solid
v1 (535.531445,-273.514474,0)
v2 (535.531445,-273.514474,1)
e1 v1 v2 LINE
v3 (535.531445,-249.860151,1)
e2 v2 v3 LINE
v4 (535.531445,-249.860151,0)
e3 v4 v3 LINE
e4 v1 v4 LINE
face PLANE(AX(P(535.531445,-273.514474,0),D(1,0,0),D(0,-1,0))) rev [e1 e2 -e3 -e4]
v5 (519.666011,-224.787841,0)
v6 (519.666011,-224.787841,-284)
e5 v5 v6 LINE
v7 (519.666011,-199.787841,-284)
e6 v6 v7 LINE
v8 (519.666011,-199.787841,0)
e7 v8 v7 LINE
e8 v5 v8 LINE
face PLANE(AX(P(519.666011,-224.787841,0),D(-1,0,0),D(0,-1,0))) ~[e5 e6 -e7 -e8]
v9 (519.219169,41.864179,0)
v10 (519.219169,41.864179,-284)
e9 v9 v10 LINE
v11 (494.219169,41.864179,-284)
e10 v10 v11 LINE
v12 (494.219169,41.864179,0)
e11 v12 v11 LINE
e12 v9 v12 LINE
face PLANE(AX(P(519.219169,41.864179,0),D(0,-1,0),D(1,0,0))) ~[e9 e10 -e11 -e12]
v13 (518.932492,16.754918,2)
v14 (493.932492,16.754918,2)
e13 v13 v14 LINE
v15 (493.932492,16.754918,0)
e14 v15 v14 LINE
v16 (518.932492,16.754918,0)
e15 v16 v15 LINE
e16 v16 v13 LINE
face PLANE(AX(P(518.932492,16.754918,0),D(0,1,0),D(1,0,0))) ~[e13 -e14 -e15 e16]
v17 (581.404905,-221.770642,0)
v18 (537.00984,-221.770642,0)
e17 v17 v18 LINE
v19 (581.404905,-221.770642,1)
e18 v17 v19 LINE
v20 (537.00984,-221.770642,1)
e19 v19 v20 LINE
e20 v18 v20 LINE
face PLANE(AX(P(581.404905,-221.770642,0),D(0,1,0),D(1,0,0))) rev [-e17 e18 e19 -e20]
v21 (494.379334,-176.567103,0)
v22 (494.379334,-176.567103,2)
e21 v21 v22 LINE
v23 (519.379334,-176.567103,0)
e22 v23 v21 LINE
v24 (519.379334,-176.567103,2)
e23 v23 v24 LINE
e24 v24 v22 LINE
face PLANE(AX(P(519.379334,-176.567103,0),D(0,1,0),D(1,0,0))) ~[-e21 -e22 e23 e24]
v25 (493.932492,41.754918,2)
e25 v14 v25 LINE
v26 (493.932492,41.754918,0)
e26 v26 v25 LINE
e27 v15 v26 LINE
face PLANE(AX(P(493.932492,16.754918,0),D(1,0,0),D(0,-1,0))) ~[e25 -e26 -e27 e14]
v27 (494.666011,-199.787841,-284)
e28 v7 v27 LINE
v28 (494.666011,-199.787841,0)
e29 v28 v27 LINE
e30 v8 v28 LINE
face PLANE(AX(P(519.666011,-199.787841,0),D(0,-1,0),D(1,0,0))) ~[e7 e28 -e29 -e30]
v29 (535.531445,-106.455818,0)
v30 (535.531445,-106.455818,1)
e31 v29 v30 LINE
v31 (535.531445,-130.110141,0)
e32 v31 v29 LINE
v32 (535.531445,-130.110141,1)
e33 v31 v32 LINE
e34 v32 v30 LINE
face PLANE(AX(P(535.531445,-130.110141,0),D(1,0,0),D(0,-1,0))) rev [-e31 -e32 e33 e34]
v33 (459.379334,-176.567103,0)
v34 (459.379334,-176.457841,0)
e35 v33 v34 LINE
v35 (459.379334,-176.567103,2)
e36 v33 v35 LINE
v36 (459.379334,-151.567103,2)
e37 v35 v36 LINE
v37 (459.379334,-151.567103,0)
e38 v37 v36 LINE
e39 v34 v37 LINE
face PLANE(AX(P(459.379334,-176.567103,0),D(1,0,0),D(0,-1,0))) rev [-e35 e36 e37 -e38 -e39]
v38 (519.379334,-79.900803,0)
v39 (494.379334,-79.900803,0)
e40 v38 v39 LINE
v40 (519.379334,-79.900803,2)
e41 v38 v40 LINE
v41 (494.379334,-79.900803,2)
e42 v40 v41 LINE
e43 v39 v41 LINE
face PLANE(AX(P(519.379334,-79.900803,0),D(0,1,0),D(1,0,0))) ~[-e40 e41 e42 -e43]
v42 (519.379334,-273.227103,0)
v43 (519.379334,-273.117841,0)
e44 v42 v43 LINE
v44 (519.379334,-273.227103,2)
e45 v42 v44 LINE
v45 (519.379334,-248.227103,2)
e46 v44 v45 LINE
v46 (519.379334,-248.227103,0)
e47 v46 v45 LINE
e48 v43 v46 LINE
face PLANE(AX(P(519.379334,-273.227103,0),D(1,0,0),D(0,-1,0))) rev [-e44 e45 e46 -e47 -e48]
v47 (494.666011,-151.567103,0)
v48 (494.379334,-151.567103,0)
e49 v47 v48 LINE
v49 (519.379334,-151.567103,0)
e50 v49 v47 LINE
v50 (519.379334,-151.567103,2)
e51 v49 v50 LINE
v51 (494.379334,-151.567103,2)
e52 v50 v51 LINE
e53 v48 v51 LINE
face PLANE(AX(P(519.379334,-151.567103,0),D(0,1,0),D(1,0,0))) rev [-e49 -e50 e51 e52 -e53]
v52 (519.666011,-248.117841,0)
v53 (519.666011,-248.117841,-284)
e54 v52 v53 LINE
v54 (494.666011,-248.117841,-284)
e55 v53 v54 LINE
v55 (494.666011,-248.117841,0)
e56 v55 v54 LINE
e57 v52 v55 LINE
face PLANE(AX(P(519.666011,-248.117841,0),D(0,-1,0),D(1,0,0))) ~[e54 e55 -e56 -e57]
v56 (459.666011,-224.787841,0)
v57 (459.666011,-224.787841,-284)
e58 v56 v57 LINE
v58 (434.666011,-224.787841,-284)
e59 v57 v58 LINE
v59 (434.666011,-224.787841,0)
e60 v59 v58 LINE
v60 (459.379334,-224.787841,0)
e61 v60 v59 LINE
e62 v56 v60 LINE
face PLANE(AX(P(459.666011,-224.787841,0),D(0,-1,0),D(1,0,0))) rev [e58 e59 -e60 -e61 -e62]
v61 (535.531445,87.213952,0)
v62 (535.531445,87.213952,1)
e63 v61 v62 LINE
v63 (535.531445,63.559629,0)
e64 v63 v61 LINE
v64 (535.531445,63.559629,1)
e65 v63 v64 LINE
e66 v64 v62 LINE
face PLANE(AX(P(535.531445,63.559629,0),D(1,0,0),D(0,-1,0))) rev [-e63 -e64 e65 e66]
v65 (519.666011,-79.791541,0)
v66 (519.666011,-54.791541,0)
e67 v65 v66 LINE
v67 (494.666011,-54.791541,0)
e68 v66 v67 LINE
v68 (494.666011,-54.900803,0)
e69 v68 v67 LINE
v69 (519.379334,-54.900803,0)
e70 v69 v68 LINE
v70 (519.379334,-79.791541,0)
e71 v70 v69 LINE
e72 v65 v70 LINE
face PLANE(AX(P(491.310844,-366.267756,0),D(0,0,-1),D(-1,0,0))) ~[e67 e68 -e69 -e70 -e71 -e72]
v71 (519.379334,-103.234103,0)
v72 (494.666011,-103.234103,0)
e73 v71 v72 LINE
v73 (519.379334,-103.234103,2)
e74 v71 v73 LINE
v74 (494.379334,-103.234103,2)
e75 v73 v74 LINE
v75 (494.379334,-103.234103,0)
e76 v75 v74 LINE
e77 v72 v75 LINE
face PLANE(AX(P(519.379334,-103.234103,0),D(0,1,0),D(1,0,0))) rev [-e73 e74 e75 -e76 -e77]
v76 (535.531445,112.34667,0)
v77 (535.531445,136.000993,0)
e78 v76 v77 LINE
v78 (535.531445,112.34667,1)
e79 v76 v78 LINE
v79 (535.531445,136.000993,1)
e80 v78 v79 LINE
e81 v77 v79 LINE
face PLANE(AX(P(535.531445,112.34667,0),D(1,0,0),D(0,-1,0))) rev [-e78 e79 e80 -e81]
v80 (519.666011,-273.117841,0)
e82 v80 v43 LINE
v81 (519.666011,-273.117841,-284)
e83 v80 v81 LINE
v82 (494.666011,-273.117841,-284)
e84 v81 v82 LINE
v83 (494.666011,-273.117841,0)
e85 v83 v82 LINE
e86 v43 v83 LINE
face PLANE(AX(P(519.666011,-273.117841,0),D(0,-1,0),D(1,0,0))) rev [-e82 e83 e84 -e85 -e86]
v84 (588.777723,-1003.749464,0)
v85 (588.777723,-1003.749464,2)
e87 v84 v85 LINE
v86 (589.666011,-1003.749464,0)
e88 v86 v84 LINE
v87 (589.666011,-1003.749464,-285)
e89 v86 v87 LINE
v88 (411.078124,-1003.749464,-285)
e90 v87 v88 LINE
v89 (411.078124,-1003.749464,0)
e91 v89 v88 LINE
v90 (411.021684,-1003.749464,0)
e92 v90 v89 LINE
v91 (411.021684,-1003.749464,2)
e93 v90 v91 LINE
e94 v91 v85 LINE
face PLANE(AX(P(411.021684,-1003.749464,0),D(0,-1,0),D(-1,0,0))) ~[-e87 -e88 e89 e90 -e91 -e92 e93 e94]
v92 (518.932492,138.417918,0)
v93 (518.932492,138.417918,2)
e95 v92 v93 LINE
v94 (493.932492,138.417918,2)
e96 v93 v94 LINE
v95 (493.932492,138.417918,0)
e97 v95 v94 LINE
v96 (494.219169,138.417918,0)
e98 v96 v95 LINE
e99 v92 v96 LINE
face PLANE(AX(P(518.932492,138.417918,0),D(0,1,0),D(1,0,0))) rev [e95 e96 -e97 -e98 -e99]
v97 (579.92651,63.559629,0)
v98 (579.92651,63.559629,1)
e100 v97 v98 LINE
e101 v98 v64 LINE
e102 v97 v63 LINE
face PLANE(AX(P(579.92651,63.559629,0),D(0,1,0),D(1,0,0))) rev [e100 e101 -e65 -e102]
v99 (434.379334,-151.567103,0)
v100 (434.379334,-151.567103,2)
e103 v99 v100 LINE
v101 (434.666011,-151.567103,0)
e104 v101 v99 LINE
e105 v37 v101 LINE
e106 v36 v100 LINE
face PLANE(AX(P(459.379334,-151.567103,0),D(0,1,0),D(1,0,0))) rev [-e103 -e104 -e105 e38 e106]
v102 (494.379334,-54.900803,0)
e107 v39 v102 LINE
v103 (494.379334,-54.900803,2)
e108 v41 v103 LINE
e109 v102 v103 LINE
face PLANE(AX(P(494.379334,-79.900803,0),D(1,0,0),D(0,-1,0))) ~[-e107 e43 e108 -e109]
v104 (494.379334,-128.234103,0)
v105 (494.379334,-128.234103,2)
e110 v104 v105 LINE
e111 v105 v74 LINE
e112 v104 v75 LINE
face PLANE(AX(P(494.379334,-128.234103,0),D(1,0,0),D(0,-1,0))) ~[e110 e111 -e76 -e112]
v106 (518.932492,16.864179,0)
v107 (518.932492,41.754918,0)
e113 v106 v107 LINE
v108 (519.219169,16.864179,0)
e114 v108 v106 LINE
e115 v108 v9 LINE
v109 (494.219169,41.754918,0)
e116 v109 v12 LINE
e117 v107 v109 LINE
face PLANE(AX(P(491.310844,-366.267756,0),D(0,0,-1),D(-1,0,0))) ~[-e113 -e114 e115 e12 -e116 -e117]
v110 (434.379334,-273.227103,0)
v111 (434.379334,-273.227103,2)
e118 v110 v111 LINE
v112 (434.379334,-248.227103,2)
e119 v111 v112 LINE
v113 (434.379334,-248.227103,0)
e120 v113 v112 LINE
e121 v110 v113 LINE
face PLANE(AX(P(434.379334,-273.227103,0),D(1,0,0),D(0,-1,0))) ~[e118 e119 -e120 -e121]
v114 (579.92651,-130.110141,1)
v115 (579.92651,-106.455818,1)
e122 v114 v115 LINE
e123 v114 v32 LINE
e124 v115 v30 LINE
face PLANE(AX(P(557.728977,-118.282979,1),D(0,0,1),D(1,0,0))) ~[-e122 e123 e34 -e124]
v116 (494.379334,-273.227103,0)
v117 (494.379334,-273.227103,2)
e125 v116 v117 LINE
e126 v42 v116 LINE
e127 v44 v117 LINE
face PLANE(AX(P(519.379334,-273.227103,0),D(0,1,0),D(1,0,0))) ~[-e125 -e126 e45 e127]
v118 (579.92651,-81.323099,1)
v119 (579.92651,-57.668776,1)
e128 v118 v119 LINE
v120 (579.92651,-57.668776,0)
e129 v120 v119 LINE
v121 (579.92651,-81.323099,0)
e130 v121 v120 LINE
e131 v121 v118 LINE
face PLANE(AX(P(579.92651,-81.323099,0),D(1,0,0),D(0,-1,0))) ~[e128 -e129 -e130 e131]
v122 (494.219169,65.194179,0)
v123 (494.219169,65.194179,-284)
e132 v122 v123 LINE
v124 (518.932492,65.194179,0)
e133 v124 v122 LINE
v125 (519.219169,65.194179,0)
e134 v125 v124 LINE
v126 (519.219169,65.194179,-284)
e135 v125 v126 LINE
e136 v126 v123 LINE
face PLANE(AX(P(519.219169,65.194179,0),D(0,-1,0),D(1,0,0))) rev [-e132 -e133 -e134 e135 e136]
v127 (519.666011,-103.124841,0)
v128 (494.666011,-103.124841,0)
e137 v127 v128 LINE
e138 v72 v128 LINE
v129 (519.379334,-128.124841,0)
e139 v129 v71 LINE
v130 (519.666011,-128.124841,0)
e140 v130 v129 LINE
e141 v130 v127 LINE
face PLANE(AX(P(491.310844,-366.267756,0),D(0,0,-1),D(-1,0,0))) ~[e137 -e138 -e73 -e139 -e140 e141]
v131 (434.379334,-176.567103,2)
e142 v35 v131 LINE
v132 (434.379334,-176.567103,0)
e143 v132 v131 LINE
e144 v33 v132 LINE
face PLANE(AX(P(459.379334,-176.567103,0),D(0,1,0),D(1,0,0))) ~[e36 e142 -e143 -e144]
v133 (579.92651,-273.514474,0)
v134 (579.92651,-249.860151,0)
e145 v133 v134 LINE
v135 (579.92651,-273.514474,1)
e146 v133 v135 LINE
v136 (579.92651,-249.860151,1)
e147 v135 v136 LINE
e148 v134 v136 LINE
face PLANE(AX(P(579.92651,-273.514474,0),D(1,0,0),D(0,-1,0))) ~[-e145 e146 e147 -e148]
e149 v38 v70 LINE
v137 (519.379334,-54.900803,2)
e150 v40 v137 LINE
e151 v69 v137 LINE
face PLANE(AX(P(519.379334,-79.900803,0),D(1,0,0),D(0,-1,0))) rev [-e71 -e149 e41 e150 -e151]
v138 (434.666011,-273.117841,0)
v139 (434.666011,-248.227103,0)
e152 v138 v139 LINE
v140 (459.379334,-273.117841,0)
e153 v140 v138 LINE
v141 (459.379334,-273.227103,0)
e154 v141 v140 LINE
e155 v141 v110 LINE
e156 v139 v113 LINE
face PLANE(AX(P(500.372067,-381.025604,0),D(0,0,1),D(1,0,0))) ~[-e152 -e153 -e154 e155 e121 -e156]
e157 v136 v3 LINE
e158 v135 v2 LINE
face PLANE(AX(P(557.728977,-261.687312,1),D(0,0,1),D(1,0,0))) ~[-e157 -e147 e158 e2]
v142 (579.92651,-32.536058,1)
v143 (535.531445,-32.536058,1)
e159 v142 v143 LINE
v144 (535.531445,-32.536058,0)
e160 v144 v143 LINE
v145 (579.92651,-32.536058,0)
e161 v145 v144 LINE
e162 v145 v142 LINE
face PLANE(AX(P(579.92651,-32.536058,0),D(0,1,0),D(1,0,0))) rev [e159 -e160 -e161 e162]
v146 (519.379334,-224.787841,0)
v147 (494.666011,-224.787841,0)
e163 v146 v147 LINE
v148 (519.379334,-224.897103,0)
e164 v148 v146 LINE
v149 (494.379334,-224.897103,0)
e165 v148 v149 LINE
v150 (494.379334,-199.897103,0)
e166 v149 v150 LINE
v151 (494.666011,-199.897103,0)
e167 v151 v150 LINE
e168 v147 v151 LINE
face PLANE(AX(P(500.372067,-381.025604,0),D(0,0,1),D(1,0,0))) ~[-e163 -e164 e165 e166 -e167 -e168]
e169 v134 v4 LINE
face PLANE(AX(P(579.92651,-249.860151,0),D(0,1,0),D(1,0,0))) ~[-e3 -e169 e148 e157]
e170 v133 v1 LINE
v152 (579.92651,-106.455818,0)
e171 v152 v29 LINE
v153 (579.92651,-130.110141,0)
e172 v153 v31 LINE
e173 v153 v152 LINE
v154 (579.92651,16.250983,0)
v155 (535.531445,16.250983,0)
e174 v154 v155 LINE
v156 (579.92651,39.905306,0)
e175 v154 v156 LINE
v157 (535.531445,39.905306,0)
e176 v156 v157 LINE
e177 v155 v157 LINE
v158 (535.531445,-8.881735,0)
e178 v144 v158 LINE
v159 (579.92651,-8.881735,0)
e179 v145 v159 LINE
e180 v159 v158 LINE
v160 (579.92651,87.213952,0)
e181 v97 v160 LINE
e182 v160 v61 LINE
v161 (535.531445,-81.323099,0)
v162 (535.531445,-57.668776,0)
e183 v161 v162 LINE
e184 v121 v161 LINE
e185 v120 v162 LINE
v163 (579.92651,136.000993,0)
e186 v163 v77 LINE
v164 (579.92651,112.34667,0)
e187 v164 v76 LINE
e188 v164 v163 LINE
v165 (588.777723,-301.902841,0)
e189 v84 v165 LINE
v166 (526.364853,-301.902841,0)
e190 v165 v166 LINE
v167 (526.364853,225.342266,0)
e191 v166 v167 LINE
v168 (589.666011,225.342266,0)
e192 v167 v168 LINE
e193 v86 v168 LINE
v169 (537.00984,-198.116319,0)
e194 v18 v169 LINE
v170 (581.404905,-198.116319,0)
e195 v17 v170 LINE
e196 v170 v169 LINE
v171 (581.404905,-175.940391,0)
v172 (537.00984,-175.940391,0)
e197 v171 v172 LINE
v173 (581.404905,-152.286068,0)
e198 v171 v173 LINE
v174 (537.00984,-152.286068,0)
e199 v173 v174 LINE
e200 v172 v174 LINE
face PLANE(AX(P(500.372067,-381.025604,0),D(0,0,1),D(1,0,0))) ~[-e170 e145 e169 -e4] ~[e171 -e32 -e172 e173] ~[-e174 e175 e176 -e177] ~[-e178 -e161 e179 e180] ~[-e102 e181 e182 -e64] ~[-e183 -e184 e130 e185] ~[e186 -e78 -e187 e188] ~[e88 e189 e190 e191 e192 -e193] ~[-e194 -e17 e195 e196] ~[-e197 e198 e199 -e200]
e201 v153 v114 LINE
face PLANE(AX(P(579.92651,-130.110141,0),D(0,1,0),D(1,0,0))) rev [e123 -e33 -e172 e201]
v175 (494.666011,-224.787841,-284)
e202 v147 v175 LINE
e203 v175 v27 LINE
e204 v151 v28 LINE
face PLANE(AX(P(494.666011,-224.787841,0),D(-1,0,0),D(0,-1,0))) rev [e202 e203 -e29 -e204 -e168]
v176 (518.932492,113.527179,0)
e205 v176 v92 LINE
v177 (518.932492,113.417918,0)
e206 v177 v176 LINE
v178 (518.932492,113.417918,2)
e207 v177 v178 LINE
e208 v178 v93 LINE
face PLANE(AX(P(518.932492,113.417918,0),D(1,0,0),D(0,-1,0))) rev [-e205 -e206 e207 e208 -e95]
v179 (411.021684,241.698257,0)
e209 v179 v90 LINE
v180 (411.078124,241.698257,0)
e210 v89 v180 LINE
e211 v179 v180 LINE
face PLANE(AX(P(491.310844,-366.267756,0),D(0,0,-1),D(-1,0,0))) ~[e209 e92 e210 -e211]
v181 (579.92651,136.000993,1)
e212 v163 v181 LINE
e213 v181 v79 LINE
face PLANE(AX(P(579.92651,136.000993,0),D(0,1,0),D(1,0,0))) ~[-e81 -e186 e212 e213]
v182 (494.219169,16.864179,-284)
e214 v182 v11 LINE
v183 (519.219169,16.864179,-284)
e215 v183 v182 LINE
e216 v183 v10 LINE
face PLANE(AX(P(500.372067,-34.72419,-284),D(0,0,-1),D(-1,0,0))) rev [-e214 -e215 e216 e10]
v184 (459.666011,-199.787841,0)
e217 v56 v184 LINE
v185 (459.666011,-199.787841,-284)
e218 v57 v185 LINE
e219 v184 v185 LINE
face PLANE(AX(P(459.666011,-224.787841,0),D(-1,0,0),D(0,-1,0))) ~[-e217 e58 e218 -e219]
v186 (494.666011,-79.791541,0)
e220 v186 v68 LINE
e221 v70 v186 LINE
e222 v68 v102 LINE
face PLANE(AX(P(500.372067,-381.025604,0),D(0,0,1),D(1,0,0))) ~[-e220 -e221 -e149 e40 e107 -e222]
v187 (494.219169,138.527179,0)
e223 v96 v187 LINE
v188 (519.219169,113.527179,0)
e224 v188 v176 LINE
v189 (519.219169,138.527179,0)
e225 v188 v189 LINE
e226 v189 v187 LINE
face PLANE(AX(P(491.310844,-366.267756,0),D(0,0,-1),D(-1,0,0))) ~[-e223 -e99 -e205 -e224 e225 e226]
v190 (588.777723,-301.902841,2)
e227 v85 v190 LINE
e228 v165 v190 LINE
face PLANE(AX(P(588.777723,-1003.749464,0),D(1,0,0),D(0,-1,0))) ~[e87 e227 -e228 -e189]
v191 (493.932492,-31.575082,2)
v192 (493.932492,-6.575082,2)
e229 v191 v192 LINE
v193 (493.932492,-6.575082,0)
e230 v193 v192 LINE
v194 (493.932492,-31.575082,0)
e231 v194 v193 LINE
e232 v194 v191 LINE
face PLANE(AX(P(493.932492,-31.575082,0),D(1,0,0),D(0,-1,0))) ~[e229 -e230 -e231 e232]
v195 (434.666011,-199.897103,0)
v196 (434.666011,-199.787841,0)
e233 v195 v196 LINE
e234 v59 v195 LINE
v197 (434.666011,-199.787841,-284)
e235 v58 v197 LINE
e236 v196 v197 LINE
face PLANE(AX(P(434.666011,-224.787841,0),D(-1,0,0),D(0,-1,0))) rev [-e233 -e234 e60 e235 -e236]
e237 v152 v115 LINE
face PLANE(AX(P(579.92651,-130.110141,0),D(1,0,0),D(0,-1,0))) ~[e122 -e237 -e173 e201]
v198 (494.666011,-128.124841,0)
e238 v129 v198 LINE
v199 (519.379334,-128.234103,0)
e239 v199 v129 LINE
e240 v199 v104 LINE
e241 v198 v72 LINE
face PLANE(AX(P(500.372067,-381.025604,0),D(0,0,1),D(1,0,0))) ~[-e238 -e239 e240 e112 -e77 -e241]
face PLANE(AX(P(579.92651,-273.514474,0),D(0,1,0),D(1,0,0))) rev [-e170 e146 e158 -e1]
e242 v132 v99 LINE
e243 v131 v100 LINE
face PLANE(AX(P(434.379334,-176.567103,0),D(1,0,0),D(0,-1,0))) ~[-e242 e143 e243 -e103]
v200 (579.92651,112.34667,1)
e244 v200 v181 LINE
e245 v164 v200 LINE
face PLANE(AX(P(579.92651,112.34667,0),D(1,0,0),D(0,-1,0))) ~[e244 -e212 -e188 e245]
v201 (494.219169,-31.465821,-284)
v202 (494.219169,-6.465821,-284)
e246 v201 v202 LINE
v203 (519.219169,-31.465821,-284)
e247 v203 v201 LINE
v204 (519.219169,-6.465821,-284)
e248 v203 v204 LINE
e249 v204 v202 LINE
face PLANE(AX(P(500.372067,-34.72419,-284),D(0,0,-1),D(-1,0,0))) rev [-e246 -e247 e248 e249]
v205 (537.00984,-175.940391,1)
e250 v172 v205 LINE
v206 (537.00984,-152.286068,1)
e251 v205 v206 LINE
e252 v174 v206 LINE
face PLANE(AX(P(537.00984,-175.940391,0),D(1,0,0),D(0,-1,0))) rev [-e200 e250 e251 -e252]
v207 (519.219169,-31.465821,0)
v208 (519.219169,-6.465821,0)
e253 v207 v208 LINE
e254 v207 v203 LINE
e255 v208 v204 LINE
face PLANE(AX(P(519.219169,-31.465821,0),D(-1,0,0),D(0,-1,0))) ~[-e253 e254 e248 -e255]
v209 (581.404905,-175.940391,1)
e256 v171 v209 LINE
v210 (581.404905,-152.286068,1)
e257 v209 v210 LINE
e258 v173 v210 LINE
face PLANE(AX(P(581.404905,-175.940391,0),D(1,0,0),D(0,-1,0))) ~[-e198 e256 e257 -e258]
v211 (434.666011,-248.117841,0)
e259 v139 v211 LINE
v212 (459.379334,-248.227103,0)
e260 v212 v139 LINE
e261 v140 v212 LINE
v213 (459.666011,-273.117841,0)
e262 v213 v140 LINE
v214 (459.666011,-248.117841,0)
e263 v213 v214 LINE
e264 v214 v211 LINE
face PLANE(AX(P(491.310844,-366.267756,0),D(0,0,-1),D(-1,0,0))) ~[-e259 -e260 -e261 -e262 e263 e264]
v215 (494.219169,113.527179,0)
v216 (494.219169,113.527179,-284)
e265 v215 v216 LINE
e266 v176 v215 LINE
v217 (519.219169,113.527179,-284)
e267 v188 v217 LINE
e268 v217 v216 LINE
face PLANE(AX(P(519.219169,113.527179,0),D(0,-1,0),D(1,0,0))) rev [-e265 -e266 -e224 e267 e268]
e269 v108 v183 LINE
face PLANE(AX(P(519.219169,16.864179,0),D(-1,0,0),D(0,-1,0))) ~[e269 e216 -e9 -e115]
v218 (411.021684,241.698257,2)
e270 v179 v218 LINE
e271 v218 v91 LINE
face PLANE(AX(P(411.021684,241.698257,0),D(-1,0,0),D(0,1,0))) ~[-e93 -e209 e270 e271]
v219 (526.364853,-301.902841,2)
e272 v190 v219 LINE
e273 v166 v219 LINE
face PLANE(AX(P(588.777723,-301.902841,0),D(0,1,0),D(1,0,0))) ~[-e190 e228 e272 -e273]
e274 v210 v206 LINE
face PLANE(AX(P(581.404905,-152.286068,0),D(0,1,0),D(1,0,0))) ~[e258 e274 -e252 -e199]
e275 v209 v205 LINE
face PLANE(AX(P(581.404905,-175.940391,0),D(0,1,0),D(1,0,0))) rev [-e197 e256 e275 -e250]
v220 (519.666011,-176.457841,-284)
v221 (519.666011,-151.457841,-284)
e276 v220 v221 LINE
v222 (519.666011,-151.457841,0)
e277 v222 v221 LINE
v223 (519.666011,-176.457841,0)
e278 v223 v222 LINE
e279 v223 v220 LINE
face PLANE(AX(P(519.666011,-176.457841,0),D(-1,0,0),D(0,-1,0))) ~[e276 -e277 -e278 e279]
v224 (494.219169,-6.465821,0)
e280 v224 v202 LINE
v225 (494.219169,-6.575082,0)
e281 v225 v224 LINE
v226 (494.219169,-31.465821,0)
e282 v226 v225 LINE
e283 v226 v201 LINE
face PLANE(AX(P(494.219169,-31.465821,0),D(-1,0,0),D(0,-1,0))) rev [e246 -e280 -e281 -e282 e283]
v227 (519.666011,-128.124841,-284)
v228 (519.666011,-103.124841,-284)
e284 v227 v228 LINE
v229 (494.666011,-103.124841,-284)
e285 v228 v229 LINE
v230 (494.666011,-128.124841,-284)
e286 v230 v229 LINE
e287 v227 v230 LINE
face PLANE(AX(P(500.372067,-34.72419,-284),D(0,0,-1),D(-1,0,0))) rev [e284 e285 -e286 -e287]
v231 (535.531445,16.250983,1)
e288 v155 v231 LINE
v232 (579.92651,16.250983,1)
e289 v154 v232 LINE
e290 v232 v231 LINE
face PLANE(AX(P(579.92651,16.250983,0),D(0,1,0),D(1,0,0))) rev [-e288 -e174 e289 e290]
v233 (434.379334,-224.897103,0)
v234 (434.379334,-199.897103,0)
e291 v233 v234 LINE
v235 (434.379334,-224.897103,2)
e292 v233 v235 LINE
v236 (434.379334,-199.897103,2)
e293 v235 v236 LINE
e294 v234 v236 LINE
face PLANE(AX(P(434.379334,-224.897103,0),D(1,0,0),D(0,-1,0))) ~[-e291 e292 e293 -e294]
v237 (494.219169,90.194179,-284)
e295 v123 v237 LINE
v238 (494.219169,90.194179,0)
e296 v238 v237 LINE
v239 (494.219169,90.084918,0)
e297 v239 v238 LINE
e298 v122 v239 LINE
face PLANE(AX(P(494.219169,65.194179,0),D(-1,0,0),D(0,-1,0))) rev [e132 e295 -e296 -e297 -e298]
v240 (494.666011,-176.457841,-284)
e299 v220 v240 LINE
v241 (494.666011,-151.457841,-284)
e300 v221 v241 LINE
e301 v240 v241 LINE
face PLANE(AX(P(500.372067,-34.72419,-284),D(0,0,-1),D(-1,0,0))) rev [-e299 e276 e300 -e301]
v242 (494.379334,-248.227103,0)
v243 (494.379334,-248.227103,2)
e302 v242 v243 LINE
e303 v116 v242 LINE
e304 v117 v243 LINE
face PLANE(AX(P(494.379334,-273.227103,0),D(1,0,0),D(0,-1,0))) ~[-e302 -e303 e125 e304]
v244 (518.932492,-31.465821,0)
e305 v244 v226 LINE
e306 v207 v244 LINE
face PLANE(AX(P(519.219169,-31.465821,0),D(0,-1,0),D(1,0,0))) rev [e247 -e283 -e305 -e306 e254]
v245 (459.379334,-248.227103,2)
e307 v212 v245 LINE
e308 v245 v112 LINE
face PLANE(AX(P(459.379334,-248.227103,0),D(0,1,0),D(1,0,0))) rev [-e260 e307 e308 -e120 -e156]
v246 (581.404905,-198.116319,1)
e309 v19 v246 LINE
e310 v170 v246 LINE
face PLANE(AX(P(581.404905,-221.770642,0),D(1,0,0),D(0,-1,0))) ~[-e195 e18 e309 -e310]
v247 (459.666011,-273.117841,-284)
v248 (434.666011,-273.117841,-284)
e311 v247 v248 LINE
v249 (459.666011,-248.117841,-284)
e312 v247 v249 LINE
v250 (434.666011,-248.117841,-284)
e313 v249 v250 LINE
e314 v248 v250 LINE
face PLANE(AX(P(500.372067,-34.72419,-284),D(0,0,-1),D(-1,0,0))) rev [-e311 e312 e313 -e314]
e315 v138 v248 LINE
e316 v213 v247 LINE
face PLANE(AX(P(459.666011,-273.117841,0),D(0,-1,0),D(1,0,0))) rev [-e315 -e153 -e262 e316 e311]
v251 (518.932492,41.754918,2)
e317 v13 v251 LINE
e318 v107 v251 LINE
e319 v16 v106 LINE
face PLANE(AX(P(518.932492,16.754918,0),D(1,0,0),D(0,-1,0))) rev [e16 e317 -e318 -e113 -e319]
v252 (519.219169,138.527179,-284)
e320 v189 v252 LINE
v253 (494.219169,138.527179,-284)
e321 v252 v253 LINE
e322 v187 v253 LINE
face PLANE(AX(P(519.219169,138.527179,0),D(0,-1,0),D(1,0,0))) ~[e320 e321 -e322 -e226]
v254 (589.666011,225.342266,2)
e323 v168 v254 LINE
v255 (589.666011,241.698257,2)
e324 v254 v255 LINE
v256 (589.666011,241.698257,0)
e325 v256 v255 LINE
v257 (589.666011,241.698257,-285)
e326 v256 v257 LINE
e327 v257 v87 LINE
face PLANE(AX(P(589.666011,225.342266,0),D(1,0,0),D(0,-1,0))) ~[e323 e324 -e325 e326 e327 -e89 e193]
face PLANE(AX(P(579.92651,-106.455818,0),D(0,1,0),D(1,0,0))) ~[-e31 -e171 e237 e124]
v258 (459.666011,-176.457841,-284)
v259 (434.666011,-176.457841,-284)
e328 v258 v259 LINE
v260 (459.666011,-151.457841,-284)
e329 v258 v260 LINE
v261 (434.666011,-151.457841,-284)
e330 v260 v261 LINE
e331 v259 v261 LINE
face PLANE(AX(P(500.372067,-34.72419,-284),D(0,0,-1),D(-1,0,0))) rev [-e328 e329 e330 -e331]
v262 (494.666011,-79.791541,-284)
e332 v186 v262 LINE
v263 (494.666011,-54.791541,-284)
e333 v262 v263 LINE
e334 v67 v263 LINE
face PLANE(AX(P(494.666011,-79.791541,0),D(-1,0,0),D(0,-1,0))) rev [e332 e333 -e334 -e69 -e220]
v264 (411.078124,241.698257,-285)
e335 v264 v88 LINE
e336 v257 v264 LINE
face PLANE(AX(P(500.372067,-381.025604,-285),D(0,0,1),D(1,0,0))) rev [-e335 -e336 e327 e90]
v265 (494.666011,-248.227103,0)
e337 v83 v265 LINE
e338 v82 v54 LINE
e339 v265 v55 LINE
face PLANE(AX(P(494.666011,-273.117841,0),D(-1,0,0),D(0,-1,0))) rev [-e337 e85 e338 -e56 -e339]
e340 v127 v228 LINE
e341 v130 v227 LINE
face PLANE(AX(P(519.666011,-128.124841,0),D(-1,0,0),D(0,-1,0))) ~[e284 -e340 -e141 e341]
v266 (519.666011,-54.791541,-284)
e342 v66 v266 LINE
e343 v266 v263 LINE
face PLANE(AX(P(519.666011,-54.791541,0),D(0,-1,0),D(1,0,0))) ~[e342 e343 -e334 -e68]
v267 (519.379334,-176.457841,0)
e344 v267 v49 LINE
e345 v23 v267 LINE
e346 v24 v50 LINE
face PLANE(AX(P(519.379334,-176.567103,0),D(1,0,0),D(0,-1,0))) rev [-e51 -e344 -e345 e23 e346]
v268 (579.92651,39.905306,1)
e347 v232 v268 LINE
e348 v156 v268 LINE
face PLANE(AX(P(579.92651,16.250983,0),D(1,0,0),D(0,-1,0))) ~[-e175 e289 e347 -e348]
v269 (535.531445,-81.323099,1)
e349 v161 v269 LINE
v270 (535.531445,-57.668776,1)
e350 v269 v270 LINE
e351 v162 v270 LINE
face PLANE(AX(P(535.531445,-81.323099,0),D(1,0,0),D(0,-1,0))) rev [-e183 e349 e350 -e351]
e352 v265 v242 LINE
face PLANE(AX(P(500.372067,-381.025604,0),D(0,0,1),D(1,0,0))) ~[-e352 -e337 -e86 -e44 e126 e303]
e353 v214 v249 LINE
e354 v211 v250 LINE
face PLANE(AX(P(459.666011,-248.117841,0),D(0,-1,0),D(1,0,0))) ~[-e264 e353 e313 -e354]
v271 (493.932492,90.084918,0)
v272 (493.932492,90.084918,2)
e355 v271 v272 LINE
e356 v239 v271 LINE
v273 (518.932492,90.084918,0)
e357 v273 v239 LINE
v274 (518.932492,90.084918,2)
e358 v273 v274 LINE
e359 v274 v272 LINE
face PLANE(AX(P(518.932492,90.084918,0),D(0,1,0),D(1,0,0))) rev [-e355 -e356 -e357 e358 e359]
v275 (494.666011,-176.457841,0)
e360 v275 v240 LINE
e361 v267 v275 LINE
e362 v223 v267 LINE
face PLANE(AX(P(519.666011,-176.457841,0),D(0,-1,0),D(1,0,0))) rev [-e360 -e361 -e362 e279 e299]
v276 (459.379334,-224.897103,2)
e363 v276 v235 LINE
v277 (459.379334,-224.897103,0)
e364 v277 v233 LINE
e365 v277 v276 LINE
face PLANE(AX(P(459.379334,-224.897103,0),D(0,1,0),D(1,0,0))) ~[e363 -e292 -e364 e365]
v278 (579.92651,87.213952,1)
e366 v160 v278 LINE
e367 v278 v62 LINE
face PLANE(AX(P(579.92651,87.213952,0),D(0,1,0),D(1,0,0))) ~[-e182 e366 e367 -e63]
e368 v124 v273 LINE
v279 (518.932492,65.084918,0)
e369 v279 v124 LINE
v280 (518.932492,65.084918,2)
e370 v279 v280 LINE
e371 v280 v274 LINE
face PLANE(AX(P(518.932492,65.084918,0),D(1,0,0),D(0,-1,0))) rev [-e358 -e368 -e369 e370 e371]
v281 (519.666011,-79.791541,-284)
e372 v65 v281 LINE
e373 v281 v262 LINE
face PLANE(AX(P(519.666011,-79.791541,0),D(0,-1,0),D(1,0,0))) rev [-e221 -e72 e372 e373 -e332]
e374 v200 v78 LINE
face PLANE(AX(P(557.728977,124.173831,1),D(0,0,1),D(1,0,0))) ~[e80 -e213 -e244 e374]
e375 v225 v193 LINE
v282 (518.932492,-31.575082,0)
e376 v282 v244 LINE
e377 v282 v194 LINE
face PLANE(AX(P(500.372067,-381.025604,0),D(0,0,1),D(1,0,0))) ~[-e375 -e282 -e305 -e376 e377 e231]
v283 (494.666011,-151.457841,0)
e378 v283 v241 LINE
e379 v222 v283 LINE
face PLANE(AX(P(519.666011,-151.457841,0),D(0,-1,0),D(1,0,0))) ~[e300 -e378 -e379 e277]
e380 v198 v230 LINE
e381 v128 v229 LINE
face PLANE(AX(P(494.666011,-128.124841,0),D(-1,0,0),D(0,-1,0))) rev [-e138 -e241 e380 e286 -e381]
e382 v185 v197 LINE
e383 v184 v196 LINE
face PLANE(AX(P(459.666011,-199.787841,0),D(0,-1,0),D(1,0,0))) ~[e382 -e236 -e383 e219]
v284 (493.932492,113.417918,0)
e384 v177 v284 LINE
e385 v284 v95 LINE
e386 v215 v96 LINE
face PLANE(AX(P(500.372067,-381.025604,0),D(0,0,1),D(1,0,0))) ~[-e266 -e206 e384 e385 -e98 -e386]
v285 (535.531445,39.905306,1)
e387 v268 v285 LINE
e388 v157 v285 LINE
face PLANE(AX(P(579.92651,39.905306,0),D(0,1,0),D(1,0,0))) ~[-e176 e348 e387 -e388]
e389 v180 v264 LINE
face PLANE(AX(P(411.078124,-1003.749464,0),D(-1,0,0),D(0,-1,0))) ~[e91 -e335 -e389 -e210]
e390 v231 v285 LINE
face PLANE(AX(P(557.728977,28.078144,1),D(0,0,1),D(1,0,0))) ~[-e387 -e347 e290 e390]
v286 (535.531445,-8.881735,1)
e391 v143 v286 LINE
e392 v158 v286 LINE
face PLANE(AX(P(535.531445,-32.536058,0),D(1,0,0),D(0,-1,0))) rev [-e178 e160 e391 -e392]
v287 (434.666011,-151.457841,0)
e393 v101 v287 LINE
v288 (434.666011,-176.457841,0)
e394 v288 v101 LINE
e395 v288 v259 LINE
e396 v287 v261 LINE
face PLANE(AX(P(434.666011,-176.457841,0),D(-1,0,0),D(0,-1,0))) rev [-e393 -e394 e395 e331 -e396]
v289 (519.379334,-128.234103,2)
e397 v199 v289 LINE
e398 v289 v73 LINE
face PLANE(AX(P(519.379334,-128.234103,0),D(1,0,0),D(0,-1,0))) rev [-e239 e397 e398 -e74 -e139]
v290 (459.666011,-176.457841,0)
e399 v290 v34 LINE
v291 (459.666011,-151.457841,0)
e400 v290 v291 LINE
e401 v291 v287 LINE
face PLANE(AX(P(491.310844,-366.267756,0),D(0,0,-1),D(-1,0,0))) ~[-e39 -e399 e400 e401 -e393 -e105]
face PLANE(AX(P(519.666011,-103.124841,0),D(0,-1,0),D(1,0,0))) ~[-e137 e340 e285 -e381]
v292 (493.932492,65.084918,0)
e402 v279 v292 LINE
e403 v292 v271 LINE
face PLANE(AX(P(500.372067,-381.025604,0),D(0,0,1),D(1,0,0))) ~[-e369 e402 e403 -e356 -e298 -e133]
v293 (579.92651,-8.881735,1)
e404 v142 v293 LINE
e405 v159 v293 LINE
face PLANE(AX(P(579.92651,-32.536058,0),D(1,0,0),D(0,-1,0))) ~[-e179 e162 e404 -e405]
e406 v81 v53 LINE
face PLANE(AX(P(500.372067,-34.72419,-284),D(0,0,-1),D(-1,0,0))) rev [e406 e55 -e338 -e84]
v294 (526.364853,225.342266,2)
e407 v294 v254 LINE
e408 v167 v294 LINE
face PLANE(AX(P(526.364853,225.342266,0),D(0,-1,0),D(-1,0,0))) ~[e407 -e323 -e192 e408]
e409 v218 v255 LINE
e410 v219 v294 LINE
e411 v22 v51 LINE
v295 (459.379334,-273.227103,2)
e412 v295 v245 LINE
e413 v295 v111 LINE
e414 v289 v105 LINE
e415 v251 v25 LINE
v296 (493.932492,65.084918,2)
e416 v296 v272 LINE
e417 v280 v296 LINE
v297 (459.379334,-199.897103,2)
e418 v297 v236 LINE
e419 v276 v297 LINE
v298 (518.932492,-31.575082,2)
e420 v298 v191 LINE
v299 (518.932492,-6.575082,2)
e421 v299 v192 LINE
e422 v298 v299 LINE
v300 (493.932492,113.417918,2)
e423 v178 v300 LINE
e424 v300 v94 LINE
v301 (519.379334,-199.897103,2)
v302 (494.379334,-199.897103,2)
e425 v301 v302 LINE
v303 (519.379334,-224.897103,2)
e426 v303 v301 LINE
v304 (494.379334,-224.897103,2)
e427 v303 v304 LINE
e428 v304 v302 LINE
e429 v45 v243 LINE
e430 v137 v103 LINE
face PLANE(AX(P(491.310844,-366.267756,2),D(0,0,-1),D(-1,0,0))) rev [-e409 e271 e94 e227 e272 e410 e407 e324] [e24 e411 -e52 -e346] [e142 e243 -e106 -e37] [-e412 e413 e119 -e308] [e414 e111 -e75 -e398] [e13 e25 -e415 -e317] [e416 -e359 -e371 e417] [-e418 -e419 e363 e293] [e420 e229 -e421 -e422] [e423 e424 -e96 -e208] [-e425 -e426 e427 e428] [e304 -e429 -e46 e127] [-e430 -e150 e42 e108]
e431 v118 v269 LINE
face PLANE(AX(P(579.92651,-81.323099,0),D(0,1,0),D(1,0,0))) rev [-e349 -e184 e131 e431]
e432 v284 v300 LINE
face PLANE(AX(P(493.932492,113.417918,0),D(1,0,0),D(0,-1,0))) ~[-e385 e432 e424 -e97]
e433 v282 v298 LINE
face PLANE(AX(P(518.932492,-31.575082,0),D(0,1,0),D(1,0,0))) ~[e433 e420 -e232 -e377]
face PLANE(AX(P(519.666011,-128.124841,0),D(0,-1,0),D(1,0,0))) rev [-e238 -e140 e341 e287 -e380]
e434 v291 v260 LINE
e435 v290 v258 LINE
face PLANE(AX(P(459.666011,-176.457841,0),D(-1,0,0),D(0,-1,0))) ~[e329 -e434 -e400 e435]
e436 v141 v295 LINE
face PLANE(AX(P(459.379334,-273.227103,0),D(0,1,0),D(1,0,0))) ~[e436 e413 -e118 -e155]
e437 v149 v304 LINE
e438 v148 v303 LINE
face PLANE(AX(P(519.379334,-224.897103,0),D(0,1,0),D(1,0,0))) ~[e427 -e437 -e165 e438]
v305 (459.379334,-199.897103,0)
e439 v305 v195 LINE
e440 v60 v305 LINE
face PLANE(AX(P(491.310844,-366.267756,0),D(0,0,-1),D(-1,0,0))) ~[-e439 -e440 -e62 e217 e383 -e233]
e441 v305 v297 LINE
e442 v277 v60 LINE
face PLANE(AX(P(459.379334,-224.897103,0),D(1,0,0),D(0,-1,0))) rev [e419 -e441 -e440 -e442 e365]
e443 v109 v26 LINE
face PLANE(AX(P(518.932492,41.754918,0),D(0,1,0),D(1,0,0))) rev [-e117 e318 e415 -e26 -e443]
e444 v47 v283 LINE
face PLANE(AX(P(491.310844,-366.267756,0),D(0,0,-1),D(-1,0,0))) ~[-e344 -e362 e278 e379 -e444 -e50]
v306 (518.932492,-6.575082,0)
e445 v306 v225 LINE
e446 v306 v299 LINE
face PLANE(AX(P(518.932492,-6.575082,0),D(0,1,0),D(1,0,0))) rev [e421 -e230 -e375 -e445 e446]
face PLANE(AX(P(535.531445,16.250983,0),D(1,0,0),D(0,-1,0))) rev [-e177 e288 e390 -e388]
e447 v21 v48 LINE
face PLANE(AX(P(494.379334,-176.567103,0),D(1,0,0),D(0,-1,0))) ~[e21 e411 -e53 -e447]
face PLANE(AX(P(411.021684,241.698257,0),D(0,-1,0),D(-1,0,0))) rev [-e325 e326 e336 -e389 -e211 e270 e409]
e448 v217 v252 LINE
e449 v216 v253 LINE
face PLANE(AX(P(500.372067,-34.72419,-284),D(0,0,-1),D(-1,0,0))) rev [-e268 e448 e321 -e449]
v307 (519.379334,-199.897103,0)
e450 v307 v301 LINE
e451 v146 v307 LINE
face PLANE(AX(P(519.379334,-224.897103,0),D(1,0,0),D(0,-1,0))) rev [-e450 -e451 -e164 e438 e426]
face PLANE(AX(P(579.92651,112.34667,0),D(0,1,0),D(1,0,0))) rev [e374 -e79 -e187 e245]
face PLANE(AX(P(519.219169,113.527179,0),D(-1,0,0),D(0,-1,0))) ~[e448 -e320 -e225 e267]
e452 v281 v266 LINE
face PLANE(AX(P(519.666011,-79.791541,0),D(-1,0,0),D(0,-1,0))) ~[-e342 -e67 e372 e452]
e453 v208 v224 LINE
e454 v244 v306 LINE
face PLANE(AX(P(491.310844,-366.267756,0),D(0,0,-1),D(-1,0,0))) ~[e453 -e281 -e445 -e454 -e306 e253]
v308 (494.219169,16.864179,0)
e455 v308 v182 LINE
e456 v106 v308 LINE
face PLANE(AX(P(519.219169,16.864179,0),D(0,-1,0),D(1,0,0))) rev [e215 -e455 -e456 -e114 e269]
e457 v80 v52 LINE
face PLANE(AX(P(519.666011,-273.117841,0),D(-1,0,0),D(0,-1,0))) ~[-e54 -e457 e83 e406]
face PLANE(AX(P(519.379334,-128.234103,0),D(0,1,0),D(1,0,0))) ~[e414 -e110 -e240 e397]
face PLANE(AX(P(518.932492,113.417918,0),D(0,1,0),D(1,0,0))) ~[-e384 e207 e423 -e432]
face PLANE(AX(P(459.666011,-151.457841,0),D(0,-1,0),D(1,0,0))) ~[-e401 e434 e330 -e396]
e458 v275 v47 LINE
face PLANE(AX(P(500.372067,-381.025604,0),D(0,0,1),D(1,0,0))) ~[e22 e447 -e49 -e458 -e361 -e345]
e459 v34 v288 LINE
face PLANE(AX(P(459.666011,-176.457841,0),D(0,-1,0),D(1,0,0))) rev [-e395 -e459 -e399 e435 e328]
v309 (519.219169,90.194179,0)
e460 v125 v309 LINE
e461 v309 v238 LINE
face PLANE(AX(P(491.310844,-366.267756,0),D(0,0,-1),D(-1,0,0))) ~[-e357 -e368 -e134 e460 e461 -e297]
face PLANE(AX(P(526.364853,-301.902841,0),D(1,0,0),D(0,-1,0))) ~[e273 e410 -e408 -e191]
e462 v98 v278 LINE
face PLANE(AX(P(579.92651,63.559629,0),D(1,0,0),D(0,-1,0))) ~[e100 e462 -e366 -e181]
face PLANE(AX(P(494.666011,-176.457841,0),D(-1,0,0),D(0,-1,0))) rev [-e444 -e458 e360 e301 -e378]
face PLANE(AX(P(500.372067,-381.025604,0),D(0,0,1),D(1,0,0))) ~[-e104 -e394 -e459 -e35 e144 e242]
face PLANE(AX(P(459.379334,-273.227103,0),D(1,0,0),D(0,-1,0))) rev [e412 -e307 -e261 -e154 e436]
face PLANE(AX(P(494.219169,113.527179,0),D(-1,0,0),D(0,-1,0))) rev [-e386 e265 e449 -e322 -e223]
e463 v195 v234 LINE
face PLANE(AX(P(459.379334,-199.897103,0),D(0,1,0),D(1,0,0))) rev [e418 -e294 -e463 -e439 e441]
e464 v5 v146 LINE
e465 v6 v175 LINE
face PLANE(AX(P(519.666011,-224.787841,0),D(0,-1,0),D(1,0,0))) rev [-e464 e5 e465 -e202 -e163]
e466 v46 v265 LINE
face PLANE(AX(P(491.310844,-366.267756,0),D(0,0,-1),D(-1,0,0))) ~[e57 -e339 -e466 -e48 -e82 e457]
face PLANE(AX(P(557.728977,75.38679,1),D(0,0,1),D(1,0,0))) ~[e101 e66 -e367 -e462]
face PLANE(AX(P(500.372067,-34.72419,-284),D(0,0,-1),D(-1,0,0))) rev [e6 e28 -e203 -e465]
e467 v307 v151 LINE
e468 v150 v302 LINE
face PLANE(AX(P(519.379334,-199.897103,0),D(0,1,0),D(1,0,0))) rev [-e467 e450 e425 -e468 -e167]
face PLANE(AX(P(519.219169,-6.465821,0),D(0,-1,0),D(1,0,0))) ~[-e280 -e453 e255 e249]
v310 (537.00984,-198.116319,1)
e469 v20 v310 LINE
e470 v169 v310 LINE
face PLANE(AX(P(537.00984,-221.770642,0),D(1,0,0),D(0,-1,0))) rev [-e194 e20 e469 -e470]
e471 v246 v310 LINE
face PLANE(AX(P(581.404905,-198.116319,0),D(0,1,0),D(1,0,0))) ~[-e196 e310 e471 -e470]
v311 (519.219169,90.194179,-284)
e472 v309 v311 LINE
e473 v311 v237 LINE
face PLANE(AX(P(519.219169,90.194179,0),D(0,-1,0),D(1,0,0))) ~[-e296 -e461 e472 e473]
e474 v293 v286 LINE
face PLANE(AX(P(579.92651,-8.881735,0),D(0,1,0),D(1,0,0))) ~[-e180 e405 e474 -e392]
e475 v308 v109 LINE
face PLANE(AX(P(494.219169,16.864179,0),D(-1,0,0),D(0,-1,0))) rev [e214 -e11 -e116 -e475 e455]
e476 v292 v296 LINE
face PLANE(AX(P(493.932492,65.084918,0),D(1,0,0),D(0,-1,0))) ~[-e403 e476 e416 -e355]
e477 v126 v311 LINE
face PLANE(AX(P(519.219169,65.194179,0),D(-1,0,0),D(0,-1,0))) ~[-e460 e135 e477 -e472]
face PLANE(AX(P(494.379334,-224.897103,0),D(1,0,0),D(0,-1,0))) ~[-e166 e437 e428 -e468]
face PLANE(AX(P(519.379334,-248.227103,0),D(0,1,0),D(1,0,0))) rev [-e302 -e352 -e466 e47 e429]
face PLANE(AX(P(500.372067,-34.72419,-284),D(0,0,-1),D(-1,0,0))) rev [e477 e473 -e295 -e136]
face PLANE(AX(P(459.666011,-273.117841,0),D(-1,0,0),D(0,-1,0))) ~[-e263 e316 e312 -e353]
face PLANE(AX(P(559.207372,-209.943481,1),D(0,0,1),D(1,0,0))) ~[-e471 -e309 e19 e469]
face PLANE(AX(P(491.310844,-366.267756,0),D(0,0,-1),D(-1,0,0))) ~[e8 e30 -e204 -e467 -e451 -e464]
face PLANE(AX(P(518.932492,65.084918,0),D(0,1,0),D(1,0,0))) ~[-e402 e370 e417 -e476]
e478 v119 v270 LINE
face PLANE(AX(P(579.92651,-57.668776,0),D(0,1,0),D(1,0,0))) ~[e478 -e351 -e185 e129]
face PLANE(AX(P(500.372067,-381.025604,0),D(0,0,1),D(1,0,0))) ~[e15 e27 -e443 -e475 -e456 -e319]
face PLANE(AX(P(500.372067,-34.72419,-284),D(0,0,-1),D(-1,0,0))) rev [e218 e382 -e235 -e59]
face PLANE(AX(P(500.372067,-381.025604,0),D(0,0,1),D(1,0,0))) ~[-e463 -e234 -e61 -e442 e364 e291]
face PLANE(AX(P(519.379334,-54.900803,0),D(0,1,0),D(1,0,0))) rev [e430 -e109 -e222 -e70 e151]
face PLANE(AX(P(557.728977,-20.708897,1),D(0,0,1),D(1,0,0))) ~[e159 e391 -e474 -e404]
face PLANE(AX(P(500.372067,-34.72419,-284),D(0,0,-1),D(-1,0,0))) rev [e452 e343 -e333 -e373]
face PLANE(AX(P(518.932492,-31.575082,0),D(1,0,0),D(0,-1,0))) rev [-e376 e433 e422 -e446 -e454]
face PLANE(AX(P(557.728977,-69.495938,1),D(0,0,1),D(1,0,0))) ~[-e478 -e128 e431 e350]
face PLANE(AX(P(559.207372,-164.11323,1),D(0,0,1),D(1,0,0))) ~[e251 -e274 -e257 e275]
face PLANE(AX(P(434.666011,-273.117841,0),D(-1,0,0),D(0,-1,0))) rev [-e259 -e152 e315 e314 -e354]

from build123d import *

# Parameters (mm, degrees)
CROQUIS1_W              = 178.587886288
CROQUIS1_H              = 1245.447721363
CROQUIS1_W_2            = 25
CROQUIS1_H_2            = 25
SALIENTE_EXTRUIR2_DEPTH = 285
CROQUIS2_W              = 178.587886288
CROQUIS2_H              = 552.844893509
SALIENTE_EXTRUIR3_DEPTH = 1
CROQUIS5_W              = 25
CROQUIS5_H              = 25
SALIENTE_EXTRUIR4_DEPTH = 2
CROQUIS10_W             = 44.39506519
CROQUIS10_H             = 23.654322964
CROQUIS10_H_2           = 23.654322963
SALIENTE_EXTRUIR5_DEPTH = 1


with BuildPart() as part:
    # Croquis1 → Saliente-Extruir2 (new body)
    with BuildSketch(Plane.XY):
        with Locations((121.784181129, -381.025603562)):
            Rectangle(CROQUIS1_W, CROQUIS1_H)
        with Locations((174.990237985, -163.957841157)):
            Rectangle(CROQUIS1_W_2, CROQUIS1_H_2, mode=Mode.SUBTRACT)
        with Locations((115.437079382, 126.027179256)):
            Rectangle(CROQUIS1_W_2, CROQUIS1_H_2, mode=Mode.SUBTRACT)
        with Locations((115.437079382, 77.694179256)):
            Rectangle(CROQUIS1_W_2, CROQUIS1_H_2, mode=Mode.SUBTRACT)
        with Locations((115.437079382, 29.364179256)):
            Rectangle(CROQUIS1_W_2, CROQUIS1_H_2, mode=Mode.SUBTRACT)
        with Locations((115.437079382, -18.965820744)):
            Rectangle(CROQUIS1_W_2, CROQUIS1_H_2, mode=Mode.SUBTRACT)
        with Locations((114.990237985, -67.291541157)):
            Rectangle(CROQUIS1_W_2, CROQUIS1_H_2, mode=Mode.SUBTRACT)
        with Locations((114.990237985, -115.624841157)):
            Rectangle(CROQUIS1_W_2, CROQUIS1_H_2, mode=Mode.SUBTRACT)
        with Locations((114.990237985, -163.957841157)):
            Rectangle(CROQUIS1_W_2, CROQUIS1_H_2, mode=Mode.SUBTRACT)
        with Locations((114.990237985, -212.287841157)):
            Rectangle(CROQUIS1_W_2, CROQUIS1_H_2, mode=Mode.SUBTRACT)
        with Locations((114.990237985, -260.617841157)):
            Rectangle(CROQUIS1_W_2, CROQUIS1_H_2, mode=Mode.SUBTRACT)
        with Locations((174.990237985, -212.287841157)):
            Rectangle(CROQUIS1_W_2, CROQUIS1_H_2, mode=Mode.SUBTRACT)
        with Locations((174.990237985, -260.617841157)):
            Rectangle(CROQUIS1_W_2, CROQUIS1_H_2, mode=Mode.SUBTRACT)
    extrude(amount=-SALIENTE_EXTRUIR2_DEPTH)

    # Croquis2 → Saliente-Extruir3 (add)
    with BuildSketch(Plane(origin=(0, 0, -285), x_dir=(-1, 0, 0), z_dir=(0, 0, -1))):
        with Locations((-121.784181129, -34.724189635)):
            Rectangle(CROQUIS2_W, CROQUIS2_H)
    extrude(amount=-SALIENTE_EXTRUIR3_DEPTH)

    # Croquis5 → Saliente-Extruir4 (add)
    with BuildSketch(Plane.XY):
        Polygon((40.133927115, 241.69825712), (187.776914698, 241.69825712), (211.134564186, 241.69825712), (211.134564186, -1003.749464243), (33.378525324, -1003.749464243), (33.378525324, -301.90284108), (95.791395616, -301.90284108), (95.791395616, 225.342265798), (32.490237985, 225.342265798), (32.490237985, 241.69825712), align=None)
        with Locations((175.276914698, -164.067102515)):
            Rectangle(CROQUIS5_W, CROQUIS5_H, mode=Mode.SUBTRACT)
        with Locations((115.723756094, 125.917917897)):
            Rectangle(CROQUIS5_W, CROQUIS5_H, mode=Mode.SUBTRACT)
        with Locations((115.723756094, 77.584917897)):
            Rectangle(CROQUIS5_W, CROQUIS5_H, mode=Mode.SUBTRACT)
        with Locations((115.723756094, 29.254917897)):
            Rectangle(CROQUIS5_W, CROQUIS5_H, mode=Mode.SUBTRACT)
        with Locations((115.723756094, -19.075082103)):
            Rectangle(CROQUIS5_W, CROQUIS5_H, mode=Mode.SUBTRACT)
        with Locations((115.276914698, -67.400802515)):
            Rectangle(CROQUIS5_W, CROQUIS5_H, mode=Mode.SUBTRACT)
        with Locations((115.276914698, -115.734102515)):
            Rectangle(CROQUIS5_W, CROQUIS5_H, mode=Mode.SUBTRACT)
        with Locations((115.276914698, -164.067102515)):
            Rectangle(CROQUIS5_W, CROQUIS5_H, mode=Mode.SUBTRACT)
        with Locations((115.276914698, -212.397102515)):
            Rectangle(CROQUIS5_W, CROQUIS5_H, mode=Mode.SUBTRACT)
        with Locations((115.276914698, -260.727102515)):
            Rectangle(CROQUIS5_W, CROQUIS5_H, mode=Mode.SUBTRACT)
        with Locations((175.276914698, -212.397102515)):
            Rectangle(CROQUIS5_W, CROQUIS5_H, mode=Mode.SUBTRACT)
        with Locations((175.276914698, -260.727102515)):
            Rectangle(CROQUIS5_W, CROQUIS5_H, mode=Mode.SUBTRACT)
    extrude(amount=SALIENTE_EXTRUIR4_DEPTH)

    # Croquis10 → Saliente-Extruir5 (add)
    with BuildSketch(Plane.XY):
        with Locations((64.427271282, 75.386790193)):
            Rectangle(CROQUIS10_W, CROQUIS10_H)
        with Locations((64.427271282, -20.708896845)):
            Rectangle(CROQUIS10_W, CROQUIS10_H_2)
        with Locations((64.427271282, -69.495937956)):
            Rectangle(CROQUIS10_W, CROQUIS10_H_2)
        with Locations((64.427271282, -118.282979068)):
            Rectangle(CROQUIS10_W, CROQUIS10_H_2)
        with Locations((62.948876097, -164.113229809)):
            Rectangle(CROQUIS10_W, CROQUIS10_H_2)
        with Locations((62.948876097, -209.94348055)):
            Rectangle(CROQUIS10_W, CROQUIS10_H_2)
        with Locations((64.427271282, 28.078144267)):
            Rectangle(CROQUIS10_W, CROQUIS10_H_2)
        with Locations((64.427271282, 124.173831305)):
            Rectangle(CROQUIS10_W, CROQUIS10_H_2)
        with Locations((64.427271282, -261.687312031)):
            Rectangle(CROQUIS10_W, CROQUIS10_H)
    extrude(amount=SALIENTE_EXTRUIR5_DEPTH)


with BuildPart() as body_2:
    # Simetría1: mirrored copy
    add(part.part.mirror(Plane(origin=(311.078124273, 0, 0), x_dir=(0, 0, 1), z_dir=(1, 0, 0))))


solid = body_2.part
